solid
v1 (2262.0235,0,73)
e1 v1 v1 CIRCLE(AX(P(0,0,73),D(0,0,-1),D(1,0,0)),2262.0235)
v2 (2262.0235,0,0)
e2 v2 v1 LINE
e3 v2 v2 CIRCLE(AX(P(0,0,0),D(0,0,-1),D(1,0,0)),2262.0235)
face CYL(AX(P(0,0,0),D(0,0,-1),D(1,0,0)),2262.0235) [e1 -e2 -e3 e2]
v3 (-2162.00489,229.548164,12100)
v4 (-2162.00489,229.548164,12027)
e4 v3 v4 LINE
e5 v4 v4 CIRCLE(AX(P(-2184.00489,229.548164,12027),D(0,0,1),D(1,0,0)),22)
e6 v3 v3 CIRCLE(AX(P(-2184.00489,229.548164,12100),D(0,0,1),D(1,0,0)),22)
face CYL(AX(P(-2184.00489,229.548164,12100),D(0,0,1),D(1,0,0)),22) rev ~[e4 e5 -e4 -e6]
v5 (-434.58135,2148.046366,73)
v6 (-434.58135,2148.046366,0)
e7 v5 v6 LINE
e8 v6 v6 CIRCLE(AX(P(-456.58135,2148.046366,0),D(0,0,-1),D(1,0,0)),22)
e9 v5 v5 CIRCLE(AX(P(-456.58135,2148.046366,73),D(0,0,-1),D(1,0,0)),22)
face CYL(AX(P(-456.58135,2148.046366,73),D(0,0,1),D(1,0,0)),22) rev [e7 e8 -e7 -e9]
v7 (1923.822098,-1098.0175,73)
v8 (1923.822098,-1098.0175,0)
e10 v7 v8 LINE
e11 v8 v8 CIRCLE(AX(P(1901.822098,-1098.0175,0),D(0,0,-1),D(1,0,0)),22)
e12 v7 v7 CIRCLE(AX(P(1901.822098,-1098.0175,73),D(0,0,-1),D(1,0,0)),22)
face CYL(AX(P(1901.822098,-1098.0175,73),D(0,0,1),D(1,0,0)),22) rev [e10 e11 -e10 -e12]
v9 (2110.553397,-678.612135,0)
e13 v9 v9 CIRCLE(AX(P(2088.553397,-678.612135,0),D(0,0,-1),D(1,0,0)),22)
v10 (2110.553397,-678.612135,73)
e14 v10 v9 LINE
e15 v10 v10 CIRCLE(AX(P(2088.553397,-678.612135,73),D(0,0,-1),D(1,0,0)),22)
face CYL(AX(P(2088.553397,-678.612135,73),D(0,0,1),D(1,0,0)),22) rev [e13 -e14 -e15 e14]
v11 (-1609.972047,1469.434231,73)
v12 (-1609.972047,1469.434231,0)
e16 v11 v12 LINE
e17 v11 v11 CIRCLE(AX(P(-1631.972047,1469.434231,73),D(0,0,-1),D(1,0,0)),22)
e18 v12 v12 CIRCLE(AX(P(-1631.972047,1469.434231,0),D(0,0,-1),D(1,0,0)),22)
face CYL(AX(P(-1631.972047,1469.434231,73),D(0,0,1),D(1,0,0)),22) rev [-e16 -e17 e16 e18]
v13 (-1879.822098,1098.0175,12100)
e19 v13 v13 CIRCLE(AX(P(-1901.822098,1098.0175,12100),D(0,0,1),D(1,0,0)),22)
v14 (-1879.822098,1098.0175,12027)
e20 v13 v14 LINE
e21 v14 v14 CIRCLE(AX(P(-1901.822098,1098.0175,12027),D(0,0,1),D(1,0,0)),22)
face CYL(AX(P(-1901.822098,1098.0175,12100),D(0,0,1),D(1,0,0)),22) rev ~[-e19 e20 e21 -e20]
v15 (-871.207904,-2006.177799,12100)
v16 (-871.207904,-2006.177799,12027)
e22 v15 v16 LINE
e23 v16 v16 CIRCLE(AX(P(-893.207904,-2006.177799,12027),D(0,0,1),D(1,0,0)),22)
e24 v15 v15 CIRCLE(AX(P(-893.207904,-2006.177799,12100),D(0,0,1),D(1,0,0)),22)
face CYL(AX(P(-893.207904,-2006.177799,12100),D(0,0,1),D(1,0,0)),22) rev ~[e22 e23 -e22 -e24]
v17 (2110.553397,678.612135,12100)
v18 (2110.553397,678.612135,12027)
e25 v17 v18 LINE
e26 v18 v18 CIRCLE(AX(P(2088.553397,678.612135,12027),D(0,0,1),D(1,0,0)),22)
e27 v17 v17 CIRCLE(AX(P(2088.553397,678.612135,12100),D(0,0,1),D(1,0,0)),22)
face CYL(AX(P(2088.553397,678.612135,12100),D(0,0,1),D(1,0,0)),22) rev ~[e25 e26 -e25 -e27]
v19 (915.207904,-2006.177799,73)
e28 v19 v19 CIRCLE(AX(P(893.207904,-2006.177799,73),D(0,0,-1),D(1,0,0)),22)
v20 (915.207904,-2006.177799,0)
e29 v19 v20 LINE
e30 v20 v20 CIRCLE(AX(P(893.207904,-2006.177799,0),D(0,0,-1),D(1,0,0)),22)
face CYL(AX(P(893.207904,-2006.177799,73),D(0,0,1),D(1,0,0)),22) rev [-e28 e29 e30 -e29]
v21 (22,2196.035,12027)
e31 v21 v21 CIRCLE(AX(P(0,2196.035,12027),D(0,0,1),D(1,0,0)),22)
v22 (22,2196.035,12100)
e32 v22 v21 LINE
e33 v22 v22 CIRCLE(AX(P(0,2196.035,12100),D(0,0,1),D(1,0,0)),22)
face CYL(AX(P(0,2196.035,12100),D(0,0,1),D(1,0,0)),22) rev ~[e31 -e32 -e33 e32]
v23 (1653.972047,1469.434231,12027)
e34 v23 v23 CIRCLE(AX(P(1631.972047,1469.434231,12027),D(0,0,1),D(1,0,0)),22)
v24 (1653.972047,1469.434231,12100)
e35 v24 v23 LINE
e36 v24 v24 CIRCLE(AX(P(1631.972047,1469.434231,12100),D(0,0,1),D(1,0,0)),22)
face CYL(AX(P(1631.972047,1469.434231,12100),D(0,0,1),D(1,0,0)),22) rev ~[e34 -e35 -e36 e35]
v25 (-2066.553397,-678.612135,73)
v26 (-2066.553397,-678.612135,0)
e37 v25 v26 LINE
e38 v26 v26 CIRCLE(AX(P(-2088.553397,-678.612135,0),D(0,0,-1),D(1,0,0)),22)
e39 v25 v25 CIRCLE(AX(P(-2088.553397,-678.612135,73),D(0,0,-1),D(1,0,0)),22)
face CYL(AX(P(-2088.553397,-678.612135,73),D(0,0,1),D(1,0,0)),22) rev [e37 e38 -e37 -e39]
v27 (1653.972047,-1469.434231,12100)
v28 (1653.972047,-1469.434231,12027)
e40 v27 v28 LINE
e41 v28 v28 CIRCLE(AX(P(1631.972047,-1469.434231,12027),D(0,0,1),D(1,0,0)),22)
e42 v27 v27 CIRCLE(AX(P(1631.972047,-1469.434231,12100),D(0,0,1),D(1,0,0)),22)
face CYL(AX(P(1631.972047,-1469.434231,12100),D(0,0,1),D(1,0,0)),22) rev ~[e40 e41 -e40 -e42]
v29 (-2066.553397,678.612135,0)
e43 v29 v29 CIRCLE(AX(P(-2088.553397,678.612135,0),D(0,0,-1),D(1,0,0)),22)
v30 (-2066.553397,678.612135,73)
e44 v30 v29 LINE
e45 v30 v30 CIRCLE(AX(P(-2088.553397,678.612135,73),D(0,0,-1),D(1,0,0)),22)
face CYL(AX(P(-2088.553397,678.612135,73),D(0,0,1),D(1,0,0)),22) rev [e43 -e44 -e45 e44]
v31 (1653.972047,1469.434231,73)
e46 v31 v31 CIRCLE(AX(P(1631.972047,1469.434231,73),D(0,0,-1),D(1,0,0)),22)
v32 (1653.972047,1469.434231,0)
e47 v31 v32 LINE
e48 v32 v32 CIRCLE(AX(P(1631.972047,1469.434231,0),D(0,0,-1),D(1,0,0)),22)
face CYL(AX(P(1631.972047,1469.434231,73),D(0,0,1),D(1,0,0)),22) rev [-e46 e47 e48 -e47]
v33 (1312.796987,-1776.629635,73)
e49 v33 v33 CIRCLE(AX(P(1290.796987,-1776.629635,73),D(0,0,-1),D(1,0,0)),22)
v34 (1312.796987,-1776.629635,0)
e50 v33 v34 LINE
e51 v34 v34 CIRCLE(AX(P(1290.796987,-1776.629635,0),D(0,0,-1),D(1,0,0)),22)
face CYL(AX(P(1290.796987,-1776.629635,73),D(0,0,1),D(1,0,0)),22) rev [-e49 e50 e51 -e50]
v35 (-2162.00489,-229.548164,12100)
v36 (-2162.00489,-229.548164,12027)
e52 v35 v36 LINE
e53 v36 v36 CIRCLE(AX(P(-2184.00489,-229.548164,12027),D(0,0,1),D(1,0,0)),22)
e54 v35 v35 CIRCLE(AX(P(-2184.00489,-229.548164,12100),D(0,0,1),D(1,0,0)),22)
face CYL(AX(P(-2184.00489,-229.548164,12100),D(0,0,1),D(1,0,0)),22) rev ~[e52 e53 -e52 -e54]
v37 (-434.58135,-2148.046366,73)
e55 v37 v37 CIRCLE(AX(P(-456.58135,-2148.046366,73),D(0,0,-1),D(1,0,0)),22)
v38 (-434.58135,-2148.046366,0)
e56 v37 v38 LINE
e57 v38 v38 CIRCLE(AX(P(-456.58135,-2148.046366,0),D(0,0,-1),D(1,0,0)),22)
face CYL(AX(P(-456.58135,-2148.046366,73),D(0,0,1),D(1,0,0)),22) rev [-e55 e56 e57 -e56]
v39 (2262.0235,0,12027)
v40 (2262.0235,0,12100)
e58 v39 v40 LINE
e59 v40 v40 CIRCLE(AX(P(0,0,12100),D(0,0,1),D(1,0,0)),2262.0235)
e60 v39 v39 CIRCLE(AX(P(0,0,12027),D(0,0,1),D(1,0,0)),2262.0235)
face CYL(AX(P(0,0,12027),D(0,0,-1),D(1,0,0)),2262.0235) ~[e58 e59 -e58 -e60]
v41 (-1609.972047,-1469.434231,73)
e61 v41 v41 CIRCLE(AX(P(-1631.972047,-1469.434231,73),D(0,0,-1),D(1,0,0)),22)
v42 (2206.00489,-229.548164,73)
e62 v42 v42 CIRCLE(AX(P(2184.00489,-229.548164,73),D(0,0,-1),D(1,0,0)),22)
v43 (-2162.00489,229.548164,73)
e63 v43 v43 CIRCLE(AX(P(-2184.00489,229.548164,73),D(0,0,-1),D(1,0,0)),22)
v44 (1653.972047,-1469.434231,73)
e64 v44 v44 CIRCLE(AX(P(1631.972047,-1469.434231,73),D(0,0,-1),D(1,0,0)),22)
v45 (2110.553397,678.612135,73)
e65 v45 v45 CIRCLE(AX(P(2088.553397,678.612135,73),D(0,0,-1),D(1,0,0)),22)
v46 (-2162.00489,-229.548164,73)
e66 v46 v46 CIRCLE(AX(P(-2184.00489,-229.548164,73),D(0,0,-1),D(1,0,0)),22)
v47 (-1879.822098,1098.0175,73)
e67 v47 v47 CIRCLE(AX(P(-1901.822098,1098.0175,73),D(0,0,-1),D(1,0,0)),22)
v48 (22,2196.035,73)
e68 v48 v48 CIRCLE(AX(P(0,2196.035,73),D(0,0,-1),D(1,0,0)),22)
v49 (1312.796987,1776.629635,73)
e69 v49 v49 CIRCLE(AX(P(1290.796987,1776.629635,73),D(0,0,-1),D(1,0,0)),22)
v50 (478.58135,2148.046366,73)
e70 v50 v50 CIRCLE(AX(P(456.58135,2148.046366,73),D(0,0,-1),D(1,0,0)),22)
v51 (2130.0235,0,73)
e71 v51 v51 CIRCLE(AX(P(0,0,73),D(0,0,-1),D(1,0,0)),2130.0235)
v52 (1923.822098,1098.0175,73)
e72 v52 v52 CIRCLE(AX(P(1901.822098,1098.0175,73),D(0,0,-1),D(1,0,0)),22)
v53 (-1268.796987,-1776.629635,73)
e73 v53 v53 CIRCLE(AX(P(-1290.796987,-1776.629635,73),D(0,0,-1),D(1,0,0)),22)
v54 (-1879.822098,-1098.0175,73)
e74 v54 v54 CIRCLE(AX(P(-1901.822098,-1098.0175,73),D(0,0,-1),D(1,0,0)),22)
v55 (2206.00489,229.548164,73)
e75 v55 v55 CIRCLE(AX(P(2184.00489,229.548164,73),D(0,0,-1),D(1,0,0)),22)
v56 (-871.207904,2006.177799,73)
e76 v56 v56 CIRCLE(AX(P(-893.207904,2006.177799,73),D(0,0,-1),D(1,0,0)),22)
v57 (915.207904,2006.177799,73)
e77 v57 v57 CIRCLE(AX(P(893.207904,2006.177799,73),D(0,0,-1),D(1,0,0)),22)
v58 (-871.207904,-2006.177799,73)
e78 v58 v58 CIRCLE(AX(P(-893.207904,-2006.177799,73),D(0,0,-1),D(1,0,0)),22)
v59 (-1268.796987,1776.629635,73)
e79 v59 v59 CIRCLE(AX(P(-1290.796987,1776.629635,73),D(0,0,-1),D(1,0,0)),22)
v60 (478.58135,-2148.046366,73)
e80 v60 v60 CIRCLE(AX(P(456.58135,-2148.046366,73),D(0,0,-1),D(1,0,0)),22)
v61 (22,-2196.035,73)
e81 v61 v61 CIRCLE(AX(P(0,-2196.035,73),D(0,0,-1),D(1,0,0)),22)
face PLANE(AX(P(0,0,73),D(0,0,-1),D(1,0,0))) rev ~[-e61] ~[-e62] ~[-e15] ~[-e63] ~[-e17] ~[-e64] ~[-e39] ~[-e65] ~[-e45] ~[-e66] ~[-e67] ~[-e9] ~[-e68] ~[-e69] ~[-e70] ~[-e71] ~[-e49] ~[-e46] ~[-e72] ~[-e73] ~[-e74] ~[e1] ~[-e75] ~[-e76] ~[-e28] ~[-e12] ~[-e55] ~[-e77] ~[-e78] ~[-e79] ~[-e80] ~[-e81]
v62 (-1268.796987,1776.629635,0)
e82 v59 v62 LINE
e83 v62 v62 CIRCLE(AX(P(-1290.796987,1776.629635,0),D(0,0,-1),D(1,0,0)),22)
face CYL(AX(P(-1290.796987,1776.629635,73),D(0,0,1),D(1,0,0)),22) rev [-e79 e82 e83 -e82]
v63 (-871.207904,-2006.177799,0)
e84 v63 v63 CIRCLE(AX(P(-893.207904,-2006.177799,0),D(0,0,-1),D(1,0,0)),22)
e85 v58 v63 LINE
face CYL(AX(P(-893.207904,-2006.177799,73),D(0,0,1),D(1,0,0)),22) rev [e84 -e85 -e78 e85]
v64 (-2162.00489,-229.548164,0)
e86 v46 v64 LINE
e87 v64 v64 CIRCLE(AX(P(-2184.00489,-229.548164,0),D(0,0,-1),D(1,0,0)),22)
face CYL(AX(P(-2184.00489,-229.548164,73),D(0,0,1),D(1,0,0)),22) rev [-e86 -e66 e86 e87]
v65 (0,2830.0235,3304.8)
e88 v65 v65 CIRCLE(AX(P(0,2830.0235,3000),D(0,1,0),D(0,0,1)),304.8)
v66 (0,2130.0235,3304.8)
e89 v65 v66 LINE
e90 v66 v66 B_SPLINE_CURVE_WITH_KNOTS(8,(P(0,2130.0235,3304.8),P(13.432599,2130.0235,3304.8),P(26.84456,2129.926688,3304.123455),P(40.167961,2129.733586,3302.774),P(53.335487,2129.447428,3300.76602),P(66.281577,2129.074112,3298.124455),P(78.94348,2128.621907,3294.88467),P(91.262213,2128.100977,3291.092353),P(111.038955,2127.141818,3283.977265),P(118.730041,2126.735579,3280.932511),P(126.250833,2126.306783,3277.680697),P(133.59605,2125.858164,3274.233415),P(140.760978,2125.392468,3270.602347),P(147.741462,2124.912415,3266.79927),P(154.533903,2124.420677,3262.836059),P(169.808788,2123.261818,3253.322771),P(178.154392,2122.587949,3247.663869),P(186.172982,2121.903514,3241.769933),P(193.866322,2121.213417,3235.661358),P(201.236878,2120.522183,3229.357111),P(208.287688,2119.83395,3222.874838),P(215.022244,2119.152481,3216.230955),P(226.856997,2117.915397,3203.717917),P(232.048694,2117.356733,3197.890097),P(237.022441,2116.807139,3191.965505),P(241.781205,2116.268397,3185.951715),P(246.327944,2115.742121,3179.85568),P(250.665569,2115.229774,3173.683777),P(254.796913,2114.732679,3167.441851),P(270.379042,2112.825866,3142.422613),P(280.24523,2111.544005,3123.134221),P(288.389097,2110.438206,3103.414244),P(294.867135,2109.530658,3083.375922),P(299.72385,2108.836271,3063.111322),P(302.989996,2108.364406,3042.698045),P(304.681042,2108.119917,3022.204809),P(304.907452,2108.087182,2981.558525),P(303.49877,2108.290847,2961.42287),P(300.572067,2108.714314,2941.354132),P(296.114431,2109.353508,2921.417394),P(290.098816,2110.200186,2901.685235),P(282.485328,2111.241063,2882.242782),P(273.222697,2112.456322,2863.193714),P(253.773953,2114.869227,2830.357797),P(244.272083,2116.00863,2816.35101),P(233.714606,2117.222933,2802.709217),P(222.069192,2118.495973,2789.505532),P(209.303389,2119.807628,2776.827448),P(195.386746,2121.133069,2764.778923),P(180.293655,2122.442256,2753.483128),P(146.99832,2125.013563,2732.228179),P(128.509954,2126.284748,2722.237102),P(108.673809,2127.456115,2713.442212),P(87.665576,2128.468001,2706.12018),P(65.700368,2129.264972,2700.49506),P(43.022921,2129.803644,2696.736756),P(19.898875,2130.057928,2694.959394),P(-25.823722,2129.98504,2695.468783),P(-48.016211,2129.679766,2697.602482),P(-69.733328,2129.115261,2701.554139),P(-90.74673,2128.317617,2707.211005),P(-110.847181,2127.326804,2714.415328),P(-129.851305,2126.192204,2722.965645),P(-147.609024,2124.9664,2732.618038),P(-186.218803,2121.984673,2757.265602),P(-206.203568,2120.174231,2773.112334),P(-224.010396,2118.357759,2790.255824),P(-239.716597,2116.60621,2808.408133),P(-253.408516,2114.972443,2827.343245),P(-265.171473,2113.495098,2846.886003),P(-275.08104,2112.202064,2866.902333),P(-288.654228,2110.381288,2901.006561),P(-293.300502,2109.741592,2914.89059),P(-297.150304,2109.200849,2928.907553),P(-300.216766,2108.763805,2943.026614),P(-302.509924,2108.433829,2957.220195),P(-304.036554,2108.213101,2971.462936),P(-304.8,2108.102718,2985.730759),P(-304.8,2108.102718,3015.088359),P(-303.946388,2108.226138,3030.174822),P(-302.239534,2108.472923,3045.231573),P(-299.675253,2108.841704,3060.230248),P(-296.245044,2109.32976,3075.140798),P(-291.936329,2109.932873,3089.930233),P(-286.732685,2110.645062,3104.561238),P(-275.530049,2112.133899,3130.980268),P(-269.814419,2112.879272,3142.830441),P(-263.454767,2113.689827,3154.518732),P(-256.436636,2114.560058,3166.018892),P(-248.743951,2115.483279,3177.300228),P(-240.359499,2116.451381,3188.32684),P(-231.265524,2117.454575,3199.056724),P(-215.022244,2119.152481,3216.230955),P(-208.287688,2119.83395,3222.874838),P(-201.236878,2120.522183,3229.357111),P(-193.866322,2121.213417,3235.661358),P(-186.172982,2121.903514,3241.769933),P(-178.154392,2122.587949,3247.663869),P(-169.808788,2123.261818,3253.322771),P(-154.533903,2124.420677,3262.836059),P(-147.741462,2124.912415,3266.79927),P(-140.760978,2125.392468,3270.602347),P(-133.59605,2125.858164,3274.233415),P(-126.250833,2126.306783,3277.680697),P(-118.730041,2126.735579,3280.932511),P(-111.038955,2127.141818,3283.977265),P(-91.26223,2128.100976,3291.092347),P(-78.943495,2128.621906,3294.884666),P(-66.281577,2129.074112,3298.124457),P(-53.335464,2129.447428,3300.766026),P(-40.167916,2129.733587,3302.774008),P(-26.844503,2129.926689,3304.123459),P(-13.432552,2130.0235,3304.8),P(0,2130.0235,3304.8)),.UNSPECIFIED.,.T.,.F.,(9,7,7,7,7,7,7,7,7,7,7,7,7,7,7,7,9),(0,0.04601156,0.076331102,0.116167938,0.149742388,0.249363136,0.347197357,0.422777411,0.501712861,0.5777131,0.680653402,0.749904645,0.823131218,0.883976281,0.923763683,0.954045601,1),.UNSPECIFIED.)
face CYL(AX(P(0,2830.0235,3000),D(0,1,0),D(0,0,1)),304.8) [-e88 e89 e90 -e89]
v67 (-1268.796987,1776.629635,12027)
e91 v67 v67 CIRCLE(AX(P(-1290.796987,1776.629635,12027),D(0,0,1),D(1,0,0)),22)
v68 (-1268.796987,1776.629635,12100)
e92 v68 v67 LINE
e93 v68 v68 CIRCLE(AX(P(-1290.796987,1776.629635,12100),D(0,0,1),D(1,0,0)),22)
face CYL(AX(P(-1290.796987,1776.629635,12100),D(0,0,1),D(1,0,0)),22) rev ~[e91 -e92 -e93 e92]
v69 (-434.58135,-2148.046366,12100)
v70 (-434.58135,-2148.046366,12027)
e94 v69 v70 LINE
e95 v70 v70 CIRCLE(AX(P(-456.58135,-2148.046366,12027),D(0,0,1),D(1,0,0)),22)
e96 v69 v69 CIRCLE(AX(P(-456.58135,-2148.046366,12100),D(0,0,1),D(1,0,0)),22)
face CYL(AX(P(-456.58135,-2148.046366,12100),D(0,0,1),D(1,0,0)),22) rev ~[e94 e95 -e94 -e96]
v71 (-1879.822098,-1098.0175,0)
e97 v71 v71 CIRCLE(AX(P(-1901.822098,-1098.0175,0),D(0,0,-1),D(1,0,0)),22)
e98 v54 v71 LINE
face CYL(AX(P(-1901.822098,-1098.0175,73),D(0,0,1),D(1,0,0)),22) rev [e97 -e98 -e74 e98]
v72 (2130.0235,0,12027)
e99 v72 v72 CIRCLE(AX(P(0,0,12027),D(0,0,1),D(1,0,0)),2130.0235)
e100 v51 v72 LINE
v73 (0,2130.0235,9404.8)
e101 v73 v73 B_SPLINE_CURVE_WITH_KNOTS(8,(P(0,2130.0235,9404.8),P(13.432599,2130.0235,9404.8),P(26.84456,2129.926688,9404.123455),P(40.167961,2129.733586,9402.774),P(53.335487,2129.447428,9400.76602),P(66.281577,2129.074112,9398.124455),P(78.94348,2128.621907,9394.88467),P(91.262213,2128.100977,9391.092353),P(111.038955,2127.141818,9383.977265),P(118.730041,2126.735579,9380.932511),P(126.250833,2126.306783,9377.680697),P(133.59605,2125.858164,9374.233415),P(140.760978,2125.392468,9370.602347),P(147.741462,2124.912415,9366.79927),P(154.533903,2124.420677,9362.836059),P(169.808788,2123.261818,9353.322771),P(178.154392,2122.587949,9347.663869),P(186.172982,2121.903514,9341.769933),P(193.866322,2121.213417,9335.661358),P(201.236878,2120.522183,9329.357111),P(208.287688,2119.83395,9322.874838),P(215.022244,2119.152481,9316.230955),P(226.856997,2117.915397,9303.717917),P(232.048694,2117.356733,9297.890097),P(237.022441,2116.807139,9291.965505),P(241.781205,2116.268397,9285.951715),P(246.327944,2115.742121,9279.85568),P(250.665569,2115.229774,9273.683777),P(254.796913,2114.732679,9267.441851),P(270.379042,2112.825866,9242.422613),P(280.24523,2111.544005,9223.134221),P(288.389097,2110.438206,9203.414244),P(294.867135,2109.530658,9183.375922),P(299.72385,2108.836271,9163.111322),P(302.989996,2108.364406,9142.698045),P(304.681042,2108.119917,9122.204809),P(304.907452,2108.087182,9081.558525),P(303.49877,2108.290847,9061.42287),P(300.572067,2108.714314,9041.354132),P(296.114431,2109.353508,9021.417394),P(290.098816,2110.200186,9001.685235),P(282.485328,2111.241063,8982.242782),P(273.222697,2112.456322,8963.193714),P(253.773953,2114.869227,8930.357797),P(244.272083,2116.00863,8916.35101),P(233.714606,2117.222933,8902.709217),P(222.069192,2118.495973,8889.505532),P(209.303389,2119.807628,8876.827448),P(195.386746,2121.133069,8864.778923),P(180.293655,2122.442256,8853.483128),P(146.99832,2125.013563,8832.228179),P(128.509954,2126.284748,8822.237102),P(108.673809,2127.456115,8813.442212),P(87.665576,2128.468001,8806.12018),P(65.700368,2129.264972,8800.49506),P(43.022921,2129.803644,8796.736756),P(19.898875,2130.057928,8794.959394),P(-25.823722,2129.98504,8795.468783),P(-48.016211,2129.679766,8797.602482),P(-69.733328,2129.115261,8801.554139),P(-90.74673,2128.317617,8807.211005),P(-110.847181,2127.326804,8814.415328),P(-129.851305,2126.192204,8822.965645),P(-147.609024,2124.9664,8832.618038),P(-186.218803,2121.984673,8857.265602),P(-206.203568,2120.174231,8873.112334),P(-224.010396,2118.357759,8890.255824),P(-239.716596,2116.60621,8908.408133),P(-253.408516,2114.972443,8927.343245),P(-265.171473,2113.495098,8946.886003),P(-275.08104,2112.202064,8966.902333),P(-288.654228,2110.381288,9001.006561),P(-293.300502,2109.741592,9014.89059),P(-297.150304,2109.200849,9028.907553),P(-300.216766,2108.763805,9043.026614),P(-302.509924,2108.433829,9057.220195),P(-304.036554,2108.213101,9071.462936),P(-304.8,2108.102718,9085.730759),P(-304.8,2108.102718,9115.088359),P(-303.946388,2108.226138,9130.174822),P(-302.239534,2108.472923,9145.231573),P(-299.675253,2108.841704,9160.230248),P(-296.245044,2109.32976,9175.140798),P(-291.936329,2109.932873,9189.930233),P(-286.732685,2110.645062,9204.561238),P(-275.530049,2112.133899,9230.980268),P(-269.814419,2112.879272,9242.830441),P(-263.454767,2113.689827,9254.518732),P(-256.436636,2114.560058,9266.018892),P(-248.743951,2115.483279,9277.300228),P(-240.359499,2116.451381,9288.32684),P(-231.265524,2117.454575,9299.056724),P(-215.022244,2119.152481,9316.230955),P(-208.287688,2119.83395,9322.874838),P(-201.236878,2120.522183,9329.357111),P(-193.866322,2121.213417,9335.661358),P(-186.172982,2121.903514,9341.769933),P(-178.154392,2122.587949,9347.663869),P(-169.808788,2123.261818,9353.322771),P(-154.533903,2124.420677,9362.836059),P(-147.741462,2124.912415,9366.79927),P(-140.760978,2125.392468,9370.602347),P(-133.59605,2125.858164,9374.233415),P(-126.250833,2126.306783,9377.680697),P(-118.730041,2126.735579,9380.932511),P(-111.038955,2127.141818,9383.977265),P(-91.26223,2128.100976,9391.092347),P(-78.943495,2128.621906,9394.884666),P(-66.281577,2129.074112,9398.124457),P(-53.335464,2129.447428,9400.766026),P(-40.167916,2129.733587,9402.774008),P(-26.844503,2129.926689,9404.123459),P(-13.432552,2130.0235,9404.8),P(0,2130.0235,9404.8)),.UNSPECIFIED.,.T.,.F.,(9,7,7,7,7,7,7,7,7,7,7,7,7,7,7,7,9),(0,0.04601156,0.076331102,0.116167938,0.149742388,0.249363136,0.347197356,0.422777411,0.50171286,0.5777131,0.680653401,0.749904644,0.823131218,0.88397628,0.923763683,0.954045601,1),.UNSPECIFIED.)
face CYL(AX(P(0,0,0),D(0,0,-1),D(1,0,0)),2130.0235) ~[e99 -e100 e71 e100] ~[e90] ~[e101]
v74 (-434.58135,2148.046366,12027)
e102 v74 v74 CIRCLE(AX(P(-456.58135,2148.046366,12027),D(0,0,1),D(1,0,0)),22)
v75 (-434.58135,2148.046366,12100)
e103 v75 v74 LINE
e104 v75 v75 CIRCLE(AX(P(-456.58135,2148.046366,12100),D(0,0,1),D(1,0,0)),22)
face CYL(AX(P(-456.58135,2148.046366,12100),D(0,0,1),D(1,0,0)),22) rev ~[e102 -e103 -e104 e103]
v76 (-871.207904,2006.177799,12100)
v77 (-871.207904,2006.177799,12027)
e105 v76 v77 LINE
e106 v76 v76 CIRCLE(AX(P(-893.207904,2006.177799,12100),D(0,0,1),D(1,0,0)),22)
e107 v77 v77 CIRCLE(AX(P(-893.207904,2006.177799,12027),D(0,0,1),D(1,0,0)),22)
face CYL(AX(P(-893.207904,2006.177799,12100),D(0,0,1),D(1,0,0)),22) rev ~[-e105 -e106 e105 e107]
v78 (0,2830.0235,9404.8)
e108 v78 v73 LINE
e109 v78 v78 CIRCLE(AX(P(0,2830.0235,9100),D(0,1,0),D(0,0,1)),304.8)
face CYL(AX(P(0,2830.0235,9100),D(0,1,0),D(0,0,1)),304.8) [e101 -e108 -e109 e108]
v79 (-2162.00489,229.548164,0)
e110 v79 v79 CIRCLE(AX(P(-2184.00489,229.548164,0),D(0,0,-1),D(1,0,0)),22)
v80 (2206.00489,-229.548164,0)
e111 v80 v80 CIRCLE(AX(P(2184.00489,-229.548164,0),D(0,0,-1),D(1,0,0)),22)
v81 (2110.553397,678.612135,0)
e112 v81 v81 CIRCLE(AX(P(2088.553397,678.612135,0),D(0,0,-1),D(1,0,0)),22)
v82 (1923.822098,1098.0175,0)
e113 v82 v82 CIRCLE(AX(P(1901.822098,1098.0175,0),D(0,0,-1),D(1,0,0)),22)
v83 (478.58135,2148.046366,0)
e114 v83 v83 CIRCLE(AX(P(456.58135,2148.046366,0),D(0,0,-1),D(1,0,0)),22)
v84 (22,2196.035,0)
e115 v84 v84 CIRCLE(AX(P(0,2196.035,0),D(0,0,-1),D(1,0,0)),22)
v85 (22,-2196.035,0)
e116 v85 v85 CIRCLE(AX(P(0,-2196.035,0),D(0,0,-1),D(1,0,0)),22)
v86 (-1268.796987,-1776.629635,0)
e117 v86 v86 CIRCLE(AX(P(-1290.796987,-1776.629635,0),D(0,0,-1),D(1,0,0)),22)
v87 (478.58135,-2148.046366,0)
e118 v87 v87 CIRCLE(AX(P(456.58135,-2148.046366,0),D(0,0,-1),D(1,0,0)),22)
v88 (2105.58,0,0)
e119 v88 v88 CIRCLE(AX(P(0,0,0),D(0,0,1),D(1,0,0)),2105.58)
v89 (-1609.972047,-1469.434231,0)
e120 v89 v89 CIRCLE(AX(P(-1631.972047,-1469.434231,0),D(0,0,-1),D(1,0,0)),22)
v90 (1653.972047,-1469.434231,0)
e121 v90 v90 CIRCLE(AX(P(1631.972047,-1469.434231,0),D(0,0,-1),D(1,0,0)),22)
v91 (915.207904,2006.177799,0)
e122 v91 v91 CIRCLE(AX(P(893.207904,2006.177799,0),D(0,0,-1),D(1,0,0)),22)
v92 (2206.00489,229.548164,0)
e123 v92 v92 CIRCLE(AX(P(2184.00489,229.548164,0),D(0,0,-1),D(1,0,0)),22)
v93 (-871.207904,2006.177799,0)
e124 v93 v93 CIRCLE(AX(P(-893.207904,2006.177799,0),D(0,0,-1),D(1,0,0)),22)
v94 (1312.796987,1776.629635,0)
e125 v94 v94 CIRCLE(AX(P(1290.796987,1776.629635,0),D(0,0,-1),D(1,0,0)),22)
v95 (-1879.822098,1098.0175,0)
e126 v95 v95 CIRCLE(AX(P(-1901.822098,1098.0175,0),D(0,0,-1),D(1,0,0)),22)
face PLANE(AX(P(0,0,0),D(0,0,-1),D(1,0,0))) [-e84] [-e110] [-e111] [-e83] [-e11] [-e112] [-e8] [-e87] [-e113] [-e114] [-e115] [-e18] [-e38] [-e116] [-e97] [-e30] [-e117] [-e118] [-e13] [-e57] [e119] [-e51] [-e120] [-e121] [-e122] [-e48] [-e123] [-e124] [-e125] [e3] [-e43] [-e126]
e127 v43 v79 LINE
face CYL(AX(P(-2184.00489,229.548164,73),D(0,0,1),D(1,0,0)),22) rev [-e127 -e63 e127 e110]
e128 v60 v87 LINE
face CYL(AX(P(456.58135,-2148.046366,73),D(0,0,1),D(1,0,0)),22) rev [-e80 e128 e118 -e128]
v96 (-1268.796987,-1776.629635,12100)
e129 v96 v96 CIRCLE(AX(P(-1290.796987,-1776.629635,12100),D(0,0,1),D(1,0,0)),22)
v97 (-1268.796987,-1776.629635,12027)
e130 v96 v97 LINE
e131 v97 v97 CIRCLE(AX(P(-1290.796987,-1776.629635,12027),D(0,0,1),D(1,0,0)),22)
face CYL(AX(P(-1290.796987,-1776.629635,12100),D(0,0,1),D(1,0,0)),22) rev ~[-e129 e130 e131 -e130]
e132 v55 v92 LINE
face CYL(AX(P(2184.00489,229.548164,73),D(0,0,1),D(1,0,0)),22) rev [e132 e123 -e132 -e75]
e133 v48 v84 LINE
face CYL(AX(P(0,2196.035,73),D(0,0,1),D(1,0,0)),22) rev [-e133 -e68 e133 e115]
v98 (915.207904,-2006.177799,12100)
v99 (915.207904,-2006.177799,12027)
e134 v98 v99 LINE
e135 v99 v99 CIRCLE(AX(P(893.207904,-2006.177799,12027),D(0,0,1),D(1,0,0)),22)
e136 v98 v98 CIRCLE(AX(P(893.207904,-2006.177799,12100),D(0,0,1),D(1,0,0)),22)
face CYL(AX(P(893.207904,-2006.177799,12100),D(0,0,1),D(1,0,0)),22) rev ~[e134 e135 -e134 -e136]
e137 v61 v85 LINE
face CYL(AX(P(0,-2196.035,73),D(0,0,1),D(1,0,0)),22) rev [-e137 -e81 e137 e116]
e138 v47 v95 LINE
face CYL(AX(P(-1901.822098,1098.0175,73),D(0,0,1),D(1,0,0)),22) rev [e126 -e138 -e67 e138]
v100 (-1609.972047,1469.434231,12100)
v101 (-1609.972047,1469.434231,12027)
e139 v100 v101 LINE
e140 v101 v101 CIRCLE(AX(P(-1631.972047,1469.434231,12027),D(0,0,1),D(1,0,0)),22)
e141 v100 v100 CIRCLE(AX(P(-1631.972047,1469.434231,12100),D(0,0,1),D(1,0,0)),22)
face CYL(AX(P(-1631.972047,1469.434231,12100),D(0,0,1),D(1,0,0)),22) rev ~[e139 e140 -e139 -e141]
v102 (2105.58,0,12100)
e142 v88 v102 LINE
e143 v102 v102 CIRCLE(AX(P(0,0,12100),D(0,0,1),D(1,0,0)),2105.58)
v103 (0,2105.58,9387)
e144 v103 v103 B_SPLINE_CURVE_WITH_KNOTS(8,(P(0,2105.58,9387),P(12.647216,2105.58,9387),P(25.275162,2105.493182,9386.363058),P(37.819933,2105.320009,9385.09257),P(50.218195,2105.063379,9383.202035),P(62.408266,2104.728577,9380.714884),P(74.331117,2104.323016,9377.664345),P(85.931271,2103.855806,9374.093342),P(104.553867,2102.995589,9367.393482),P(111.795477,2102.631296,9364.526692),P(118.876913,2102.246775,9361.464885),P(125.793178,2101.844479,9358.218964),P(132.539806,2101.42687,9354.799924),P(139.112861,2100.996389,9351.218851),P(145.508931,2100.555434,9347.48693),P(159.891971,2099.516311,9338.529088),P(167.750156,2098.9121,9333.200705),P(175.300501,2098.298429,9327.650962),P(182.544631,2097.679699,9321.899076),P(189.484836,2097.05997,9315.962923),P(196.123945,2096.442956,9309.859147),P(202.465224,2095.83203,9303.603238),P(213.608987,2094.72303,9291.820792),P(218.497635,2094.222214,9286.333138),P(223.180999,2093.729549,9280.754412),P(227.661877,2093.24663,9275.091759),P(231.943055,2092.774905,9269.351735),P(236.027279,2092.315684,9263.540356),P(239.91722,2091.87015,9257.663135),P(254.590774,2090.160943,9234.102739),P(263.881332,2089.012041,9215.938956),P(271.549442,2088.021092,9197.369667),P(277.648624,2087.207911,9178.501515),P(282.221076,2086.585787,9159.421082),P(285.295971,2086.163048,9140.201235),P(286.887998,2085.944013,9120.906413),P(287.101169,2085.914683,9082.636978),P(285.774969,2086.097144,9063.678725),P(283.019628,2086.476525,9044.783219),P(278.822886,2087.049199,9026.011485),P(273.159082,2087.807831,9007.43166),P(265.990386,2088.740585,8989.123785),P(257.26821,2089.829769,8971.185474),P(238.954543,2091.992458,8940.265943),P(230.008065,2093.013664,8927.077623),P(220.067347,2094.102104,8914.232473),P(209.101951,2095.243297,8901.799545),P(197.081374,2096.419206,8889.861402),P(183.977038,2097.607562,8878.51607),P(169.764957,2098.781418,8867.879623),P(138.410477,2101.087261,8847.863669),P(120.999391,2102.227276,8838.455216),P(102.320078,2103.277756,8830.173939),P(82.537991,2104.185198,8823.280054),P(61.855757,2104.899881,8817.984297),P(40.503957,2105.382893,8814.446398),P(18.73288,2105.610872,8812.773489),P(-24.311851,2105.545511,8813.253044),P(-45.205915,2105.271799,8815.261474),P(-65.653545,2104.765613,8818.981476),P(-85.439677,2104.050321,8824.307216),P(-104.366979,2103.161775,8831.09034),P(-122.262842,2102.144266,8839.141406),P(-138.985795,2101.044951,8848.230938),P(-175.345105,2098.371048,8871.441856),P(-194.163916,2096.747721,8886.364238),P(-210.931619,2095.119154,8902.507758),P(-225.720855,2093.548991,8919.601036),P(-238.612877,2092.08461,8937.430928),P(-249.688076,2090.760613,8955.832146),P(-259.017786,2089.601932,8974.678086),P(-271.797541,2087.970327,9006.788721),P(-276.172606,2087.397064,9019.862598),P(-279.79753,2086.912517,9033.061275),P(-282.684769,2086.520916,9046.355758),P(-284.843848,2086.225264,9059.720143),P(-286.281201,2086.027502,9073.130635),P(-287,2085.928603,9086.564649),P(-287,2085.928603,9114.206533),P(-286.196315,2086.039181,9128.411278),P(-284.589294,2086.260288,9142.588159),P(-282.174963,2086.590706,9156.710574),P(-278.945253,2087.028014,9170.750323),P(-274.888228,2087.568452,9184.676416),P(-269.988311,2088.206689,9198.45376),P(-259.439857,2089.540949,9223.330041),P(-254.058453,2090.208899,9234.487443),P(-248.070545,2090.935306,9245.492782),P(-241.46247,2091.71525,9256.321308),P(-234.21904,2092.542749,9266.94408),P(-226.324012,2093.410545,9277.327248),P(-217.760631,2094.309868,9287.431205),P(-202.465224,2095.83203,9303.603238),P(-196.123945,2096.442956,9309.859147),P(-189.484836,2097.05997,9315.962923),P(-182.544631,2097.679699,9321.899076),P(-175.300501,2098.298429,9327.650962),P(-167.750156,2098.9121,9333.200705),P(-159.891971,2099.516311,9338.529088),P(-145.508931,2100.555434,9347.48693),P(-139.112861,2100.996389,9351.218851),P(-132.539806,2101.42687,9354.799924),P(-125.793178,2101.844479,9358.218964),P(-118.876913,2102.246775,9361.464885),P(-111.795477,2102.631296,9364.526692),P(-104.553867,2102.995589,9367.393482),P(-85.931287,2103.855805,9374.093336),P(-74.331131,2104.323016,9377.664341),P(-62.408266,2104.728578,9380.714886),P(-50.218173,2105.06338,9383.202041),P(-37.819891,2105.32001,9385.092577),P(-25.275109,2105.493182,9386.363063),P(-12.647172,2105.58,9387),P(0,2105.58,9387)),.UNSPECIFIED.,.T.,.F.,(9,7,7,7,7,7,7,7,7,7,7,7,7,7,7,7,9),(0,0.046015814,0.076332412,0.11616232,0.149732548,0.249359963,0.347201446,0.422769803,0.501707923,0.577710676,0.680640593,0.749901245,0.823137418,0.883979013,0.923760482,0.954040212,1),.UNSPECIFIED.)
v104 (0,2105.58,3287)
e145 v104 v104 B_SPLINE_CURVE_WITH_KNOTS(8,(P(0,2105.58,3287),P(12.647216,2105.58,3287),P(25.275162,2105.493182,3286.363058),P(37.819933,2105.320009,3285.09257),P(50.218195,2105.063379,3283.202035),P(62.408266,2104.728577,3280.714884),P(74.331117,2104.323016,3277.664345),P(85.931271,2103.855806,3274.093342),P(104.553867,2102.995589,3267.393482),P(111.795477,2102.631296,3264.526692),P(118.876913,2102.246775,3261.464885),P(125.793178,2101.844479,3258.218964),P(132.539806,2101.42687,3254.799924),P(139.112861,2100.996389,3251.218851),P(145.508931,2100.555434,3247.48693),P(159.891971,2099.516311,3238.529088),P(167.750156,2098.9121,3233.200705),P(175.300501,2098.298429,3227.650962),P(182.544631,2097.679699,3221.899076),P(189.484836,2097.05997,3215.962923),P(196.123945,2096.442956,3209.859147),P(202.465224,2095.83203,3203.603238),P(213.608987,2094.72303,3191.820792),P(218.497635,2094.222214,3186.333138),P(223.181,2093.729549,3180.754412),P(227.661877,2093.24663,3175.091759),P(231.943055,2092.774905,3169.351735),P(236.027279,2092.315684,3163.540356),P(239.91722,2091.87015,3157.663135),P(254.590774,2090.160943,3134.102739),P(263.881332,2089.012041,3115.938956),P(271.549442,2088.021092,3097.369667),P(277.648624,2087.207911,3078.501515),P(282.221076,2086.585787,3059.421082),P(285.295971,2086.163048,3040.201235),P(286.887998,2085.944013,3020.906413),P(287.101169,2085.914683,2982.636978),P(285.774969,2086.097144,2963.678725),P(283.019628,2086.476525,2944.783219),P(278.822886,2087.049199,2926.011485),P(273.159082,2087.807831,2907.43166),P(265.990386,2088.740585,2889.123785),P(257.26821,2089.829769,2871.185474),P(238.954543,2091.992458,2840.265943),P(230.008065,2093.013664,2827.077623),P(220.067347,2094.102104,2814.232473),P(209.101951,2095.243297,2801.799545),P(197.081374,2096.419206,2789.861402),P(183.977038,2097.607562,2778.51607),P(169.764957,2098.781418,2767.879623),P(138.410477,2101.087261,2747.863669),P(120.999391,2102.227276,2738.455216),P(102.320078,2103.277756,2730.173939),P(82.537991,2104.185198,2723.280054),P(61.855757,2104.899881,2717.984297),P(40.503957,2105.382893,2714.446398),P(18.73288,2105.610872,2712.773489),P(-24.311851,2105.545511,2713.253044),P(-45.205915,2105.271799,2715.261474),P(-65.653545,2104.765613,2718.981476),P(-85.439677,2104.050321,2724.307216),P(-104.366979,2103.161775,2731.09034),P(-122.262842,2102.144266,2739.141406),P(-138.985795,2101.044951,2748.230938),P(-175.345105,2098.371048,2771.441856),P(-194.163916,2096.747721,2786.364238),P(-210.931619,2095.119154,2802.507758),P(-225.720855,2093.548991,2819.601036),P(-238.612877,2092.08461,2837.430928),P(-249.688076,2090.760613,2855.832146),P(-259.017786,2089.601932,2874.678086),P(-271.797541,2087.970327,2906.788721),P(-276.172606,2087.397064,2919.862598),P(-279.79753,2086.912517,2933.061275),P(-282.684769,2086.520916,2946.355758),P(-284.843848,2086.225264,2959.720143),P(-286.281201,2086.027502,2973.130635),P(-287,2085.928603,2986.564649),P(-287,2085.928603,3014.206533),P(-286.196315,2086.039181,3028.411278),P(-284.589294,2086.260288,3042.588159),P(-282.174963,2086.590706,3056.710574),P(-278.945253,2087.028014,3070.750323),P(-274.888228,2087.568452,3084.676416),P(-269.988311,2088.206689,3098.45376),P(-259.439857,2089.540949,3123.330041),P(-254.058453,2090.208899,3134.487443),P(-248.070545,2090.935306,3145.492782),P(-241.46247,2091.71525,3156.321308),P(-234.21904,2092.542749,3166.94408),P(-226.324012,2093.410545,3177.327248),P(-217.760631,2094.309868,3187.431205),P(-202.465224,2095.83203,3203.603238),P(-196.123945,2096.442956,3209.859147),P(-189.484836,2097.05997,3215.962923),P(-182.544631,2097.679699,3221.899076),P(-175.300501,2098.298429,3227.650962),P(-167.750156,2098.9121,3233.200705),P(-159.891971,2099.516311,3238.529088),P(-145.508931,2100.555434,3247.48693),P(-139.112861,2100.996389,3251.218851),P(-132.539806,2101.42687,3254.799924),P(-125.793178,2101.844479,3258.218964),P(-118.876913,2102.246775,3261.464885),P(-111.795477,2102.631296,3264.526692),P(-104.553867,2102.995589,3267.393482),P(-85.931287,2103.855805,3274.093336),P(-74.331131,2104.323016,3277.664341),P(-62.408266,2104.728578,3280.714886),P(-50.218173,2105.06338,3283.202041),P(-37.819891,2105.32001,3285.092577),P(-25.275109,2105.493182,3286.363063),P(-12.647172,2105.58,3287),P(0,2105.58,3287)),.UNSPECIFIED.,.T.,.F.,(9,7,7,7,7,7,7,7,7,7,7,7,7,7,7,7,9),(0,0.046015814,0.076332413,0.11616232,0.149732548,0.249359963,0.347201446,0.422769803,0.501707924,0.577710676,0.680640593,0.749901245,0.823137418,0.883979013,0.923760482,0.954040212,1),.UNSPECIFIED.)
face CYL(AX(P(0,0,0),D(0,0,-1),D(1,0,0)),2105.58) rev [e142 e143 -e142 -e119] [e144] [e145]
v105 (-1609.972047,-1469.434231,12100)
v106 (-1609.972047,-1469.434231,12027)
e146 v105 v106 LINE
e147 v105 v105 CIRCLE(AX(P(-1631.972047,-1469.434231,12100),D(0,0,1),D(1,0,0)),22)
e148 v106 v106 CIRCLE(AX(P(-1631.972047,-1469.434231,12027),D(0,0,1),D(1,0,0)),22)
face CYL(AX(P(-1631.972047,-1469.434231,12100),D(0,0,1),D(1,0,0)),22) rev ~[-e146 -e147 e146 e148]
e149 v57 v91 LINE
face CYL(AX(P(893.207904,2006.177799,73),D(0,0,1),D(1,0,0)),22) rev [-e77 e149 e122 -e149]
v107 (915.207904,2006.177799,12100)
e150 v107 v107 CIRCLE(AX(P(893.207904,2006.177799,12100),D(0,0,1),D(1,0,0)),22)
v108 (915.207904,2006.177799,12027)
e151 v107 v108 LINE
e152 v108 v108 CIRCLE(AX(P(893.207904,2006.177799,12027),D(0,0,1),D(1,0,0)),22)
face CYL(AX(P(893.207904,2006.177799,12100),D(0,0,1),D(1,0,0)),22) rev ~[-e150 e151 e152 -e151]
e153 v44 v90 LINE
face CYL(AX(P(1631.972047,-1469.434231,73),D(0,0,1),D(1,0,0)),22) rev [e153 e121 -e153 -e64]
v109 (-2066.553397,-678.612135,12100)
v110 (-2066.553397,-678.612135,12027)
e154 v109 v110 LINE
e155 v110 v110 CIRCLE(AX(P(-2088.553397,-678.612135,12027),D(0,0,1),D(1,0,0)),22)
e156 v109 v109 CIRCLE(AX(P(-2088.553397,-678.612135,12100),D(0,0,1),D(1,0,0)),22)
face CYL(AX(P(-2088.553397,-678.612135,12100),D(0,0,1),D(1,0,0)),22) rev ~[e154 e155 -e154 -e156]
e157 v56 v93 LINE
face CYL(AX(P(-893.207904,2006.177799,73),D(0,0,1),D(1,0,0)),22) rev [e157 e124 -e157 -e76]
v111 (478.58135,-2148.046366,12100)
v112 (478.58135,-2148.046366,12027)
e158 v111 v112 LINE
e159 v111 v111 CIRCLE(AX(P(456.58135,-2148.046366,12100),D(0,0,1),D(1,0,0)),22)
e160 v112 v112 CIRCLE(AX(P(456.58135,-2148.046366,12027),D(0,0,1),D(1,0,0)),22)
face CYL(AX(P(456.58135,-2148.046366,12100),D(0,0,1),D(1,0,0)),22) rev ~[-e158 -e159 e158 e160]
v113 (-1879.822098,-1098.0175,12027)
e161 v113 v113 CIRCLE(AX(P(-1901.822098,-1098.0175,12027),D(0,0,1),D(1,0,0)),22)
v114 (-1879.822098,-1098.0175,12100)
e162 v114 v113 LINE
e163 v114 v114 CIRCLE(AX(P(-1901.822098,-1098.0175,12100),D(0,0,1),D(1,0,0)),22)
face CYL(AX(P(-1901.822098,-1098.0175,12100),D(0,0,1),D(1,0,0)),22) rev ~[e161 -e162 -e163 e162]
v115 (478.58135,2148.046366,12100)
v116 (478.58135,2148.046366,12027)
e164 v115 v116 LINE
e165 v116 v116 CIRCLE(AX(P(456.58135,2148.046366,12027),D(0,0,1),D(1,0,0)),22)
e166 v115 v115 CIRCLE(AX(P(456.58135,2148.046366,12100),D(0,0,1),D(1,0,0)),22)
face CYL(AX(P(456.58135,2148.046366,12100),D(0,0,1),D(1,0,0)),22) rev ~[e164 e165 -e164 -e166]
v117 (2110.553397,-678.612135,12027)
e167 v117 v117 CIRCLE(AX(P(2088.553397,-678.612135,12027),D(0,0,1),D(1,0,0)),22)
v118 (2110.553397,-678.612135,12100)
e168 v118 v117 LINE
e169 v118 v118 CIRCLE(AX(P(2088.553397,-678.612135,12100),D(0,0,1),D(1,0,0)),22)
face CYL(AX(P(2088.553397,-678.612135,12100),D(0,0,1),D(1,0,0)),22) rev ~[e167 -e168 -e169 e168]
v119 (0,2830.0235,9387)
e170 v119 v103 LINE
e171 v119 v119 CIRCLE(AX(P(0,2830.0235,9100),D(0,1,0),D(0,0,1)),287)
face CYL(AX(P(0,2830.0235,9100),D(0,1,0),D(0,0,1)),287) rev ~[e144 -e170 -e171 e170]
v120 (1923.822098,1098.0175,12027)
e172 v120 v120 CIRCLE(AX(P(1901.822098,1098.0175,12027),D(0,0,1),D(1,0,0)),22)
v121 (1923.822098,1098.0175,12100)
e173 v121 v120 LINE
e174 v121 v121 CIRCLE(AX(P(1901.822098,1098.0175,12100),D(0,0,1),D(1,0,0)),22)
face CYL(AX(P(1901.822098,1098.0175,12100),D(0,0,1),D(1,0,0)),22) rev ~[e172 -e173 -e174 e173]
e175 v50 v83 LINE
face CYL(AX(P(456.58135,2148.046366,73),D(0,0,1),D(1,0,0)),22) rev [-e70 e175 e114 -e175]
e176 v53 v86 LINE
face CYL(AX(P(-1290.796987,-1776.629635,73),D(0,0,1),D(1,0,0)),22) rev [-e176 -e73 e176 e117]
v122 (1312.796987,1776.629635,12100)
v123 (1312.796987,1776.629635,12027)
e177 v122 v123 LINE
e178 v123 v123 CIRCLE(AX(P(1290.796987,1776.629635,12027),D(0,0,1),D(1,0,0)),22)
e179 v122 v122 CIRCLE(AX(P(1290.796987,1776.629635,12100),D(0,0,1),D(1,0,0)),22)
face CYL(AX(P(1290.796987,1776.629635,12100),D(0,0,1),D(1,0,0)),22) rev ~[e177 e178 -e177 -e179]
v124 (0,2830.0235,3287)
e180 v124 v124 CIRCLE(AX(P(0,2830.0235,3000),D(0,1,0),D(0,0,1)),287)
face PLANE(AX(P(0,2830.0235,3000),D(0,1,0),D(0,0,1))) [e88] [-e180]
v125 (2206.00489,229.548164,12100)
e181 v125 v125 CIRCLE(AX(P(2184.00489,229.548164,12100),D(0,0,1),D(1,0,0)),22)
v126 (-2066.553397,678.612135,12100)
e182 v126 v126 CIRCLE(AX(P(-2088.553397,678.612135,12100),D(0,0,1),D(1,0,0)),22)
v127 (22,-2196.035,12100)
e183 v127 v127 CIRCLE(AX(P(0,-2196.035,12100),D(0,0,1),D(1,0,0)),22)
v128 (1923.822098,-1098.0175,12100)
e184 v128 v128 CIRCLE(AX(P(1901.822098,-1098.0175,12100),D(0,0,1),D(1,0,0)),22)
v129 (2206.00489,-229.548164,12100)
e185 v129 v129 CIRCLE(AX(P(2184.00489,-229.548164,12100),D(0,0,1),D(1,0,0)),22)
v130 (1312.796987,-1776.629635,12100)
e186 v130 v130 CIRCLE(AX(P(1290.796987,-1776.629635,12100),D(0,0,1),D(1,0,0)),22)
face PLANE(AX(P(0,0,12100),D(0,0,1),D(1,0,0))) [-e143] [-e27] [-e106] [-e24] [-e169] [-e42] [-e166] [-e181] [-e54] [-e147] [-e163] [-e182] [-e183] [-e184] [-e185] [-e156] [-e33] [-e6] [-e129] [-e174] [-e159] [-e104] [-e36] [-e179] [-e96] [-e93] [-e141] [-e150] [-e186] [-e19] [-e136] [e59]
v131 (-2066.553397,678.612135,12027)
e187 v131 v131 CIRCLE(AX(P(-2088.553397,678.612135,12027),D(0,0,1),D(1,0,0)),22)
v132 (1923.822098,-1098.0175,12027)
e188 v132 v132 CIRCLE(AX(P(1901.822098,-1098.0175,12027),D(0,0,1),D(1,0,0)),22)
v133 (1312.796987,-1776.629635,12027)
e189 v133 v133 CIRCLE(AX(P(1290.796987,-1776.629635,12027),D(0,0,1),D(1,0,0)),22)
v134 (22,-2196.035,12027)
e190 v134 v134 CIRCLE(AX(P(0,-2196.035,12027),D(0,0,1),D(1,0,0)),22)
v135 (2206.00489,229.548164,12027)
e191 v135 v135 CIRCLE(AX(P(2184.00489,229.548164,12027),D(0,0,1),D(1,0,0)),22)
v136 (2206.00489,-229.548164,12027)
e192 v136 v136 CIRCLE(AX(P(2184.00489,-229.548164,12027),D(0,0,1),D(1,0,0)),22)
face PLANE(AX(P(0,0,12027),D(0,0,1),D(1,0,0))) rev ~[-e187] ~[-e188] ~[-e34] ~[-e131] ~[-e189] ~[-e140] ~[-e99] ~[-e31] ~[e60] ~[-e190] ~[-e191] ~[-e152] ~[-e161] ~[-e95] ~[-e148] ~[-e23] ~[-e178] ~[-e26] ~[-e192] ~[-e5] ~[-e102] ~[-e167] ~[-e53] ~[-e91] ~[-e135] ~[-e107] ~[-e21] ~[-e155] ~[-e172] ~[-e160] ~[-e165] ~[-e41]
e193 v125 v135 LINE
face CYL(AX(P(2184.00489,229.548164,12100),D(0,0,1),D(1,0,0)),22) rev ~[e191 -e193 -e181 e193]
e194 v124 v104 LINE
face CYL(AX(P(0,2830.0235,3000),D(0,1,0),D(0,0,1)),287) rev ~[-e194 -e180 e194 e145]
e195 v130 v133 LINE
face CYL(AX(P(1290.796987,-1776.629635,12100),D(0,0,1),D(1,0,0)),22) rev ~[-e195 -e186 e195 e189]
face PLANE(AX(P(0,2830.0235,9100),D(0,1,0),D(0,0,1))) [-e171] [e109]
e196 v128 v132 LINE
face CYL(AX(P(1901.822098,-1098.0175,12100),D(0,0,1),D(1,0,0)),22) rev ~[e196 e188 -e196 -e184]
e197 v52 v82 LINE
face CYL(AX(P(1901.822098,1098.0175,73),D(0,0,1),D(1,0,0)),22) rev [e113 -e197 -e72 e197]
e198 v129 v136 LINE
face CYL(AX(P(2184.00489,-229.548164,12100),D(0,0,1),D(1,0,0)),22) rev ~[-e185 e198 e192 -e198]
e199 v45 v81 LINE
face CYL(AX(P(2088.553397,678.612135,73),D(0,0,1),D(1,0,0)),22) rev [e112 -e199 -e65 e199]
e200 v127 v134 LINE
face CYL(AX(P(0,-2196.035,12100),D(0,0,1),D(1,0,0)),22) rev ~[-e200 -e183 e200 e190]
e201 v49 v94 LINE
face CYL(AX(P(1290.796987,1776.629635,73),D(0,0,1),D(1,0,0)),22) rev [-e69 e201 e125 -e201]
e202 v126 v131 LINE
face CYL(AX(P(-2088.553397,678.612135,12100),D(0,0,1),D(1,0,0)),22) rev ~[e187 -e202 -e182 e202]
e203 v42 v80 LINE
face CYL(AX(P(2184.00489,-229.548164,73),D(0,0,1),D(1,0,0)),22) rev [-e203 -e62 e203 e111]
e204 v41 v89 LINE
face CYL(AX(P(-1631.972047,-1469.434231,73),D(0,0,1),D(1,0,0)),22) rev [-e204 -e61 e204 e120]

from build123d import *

# Parameters (mm, degrees)
SKETCH1_R                = 2130.0235
SKETCH1_R_2              = 2105.58
BOSS_EXTRUDE1_DEPTH      = 12100
BOSS_EXTRUDE2_REACH      = 13251.493
BOSS_EXTRUDE2_END_RADIUS = 2130.0235
SKETCH2_R                = 304.8
SKETCH3_R                = 287
CUT_EXTRUDE1_DEPTH       = 1000
BOSS_EXTRUDE3_START      = -73
SKETCH4_R                = 2262.0235
SKETCH4_R_2              = 2130.0235
BOSS_EXTRUDE3_DEPTH      = 73
SKETCH5_R                = 22
CUT_EXTRUDE3_DEPTH       = 73
SKETCH7_R                = 2262.0235
SKETCH7_R_2              = 2130.0235
BOSS_EXTRUDE4_DEPTH      = 73
CUT_EXTRUDE4_START       = -73
SKETCH8_R                = 22
CUT_EXTRUDE4_DEPTH       = 73


with BuildPart() as part:
    # Sketch1 → Boss-Extrude1 (new body)
    with BuildSketch(Plane.XY):
        Circle(SKETCH1_R)
        Circle(SKETCH1_R_2, mode=Mode.SUBTRACT)
    extrude(amount=BOSS_EXTRUDE1_DEPTH)

    # Boss-Extrude2: up to this cylinder (the profile starts outside it)
    boss_extrude2_end = Plane(origin=(0, 0, 6050), z_dir=(0, 0, -1)) * Cylinder(BOSS_EXTRUDE2_END_RADIUS, 36864.033, mode=Mode.PRIVATE)
    # Sketch2 → Boss-Extrude2 (add, up to the surface)
    with BuildSketch(Plane(origin=(0, 2830.0235, 0), x_dir=(1, 0, 0), z_dir=(0, 1, 0)), mode=Mode.PRIVATE) as boss_extrude2_sk1:
        with Locations(Location((0, -3000, 0), (0, 0, 270))):
            Circle(SKETCH2_R)
    boss_extrude2_tool1 = extrude(boss_extrude2_sk1.sketch, amount=-BOSS_EXTRUDE2_REACH, mode=Mode.PRIVATE) - boss_extrude2_end
    add(boss_extrude2_tool1.solids().sort_by_distance((0, 2830.0235, 3000))[0])
    # Sketch2 → Boss-Extrude2 (add, up to the surface)
    with BuildSketch(Plane(origin=(0, 2830.0235, 0), x_dir=(1, 0, 0), z_dir=(0, 1, 0)), mode=Mode.PRIVATE) as boss_extrude2_sk2:
        with Locations(Location((0, -9100, 0), (0, 0, 270))):
            Circle(SKETCH2_R)
    boss_extrude2_tool2 = extrude(boss_extrude2_sk2.sketch, amount=-BOSS_EXTRUDE2_REACH, mode=Mode.PRIVATE) - boss_extrude2_end
    add(boss_extrude2_tool2.solids().sort_by_distance((0, 2830.0235, 9100))[0])

    # Sketch3 → Cut-Extrude1 (cut)
    with BuildSketch(Plane(origin=(0, 2830.0235, 0), x_dir=(1, 0, 0), z_dir=(0, 1, 0))):
        with Locations(Location((0, -9100, 0), (0, 0, 270))):
            Circle(SKETCH3_R)
        with Locations(Location((0, -3000, 0), (0, 0, 270))):
            Circle(SKETCH3_R)
    extrude(amount=-CUT_EXTRUDE1_DEPTH, mode=Mode.SUBTRACT)

    # Sketch4 → Boss-Extrude3 (add)
    with BuildSketch(Plane.XY.offset(12100).offset(BOSS_EXTRUDE3_START)):
        Circle(SKETCH4_R)
        Circle(SKETCH4_R_2, mode=Mode.SUBTRACT)
    extrude(amount=BOSS_EXTRUDE3_DEPTH)

    # Sketch5 → Cut-Extrude3 (cut)
    with BuildSketch(Plane.XY.offset(12100)):
        with Locations((0, 2196.035)):
            Circle(SKETCH5_R)
        with Locations((456.581349945, 2148.046366377)):
            Circle(SKETCH5_R)
        with Locations((893.207903977, 2006.177799074)):
            Circle(SKETCH5_R)
        with Locations((1290.796986518, 1776.629635242)):
            Circle(SKETCH5_R)
        with Locations((1631.972046817, 1469.434231135)):
            Circle(SKETCH5_R)
        with Locations((1901.8220976, 1098.0175)):
            Circle(SKETCH5_R)
        with Locations((2088.553396762, 678.612135242)):
            Circle(SKETCH5_R)
        with Locations((2184.004890495, 229.548163832)):
            Circle(SKETCH5_R)
        with Locations((2184.004890495, -229.548163832)):
            Circle(SKETCH5_R)
        with Locations((2088.553396762, -678.612135242)):
            Circle(SKETCH5_R)
        with Locations((1901.8220976, -1098.0175)):
            Circle(SKETCH5_R)
        with Locations((1631.972046817, -1469.434231135)):
            Circle(SKETCH5_R)
        with Locations((1290.796986518, -1776.629635242)):
            Circle(SKETCH5_R)
        with Locations((893.207903977, -2006.177799074)):
            Circle(SKETCH5_R)
        with Locations((456.581349945, -2148.046366377)):
            Circle(SKETCH5_R)
        with Locations((0, -2196.035)):
            Circle(SKETCH5_R)
        with Locations((-456.581349945, -2148.046366377)):
            Circle(SKETCH5_R)
        with Locations((-893.207903977, -2006.177799074)):
            Circle(SKETCH5_R)
        with Locations((-1290.796986518, -1776.629635242)):
            Circle(SKETCH5_R)
        with Locations((-1631.972046817, -1469.434231135)):
            Circle(SKETCH5_R)
        with Locations((-1901.8220976, -1098.0175)):
            Circle(SKETCH5_R)
        with Locations((-2088.553396762, -678.612135242)):
            Circle(SKETCH5_R)
        with Locations((-2184.004890495, -229.548163832)):
            Circle(SKETCH5_R)
        with Locations((-2184.004890495, 229.548163832)):
            Circle(SKETCH5_R)
        with Locations((-2088.553396762, 678.612135242)):
            Circle(SKETCH5_R)
        with Locations((-1901.8220976, 1098.0175)):
            Circle(SKETCH5_R)
        with Locations((-1631.972046817, 1469.434231135)):
            Circle(SKETCH5_R)
        with Locations((-1290.796986518, 1776.629635242)):
            Circle(SKETCH5_R)
        with Locations((-893.207903977, 2006.177799074)):
            Circle(SKETCH5_R)
        with Locations((-456.581349945, 2148.046366377)):
            Circle(SKETCH5_R)
    extrude(amount=-CUT_EXTRUDE3_DEPTH, mode=Mode.SUBTRACT)

    # Sketch7 → Boss-Extrude4 (add)
    with BuildSketch(Plane(origin=(0, 0, 0), x_dir=(-1, 0, 0), z_dir=(0, 0, -1))):
        with Locations(Location((0, 0, 0), (0, 0, 180))):
            Circle(SKETCH7_R)
        Circle(SKETCH7_R_2, mode=Mode.SUBTRACT)
    extrude(amount=-BOSS_EXTRUDE4_DEPTH)

    # Sketch8 → Cut-Extrude4 (cut)
    with BuildSketch(Plane(origin=(0, 0, 0), x_dir=(-1, 0, 0), z_dir=(0, 0, -1)).offset(CUT_EXTRUDE4_START)):
        with Locations(Location((-1631.972046817, 1469.434231135, 0), (0, 0, 180))):
            Circle(SKETCH8_R)
        with Locations(Location((-1290.796986518, 1776.629635242, 0), (0, 0, 180))):
            Circle(SKETCH8_R)
        with Locations(Location((-893.207903977, 2006.177799074, 0), (0, 0, 180))):
            Circle(SKETCH8_R)
        with Locations(Location((-456.581349945, 2148.046366377, 0), (0, 0, 180))):
            Circle(SKETCH8_R)
        with Locations(Location((0, 2196.035, 0), (0, 0, 180))):
            Circle(SKETCH8_R)
        with Locations(Location((-1290.796986518, -1776.629635242, 0), (0, 0, 180))):
            Circle(SKETCH8_R)
        with Locations(Location((-1631.972046817, -1469.434231135, 0), (0, 0, 180))):
            Circle(SKETCH8_R)
        with Locations(Location((-1901.8220976, -1098.0175, 0), (0, 0, 180))):
            Circle(SKETCH8_R)
        with Locations(Location((-2088.553396762, -678.612135242, 0), (0, 0, 180))):
            Circle(SKETCH8_R)
        with Locations(Location((-2184.004890495, -229.548163832, 0), (0, 0, 180))):
            Circle(SKETCH8_R)
        with Locations(Location((-2184.004890495, 229.548163832, 0), (0, 0, 180))):
            Circle(SKETCH8_R)
        with Locations(Location((-2088.553396762, 678.612135242, 0), (0, 0, 180))):
            Circle(SKETCH8_R)
        with Locations(Location((-1901.8220976, 1098.0175, 0), (0, 0, 180))):
            Circle(SKETCH8_R)
        with Locations(Location((1901.8220976, -1098.0175, 0), (0, 0, 180))):
            Circle(SKETCH8_R)
        with Locations(Location((1631.972046817, -1469.434231135, 0), (0, 0, 180))):
            Circle(SKETCH8_R)
        with Locations(Location((1290.796986518, -1776.629635242, 0), (0, 0, 180))):
            Circle(SKETCH8_R)
        with Locations(Location((893.207903977, -2006.177799074, 0), (0, 0, 180))):
            Circle(SKETCH8_R)
        with Locations(Location((456.581349945, -2148.046366377, 0), (0, 0, 180))):
            Circle(SKETCH8_R)
        with Locations(Location((0, -2196.035, 0), (0, 0, 180))):
            Circle(SKETCH8_R)
        with Locations(Location((-456.581349945, -2148.046366377, 0), (0, 0, 180))):
            Circle(SKETCH8_R)
        with Locations(Location((-893.207903977, -2006.177799074, 0), (0, 0, 180))):
            Circle(SKETCH8_R)
        with Locations(Location((893.207903977, 2006.177799074, 0), (0, 0, 180))):
            Circle(SKETCH8_R)
        with Locations(Location((1290.796986518, 1776.629635242, 0), (0, 0, 180))):
            Circle(SKETCH8_R)
        with Locations(Location((1631.972046817, 1469.434231135, 0), (0, 0, 180))):
            Circle(SKETCH8_R)
        with Locations(Location((1901.8220976, 1098.0175, 0), (0, 0, 180))):
            Circle(SKETCH8_R)
        with Locations(Location((2088.553396762, 678.612135242, 0), (0, 0, 180))):
            Circle(SKETCH8_R)
        with Locations(Location((2184.004890495, 229.548163832, 0), (0, 0, 180))):
            Circle(SKETCH8_R)
        with Locations(Location((2184.004890495, -229.548163832, 0), (0, 0, 180))):
            Circle(SKETCH8_R)
        with Locations(Location((2088.553396762, -678.612135242, 0), (0, 0, 180))):
            Circle(SKETCH8_R)
        with Locations(Location((456.581349945, 2148.046366377, 0), (0, 0, 180))):
            Circle(SKETCH8_R)
    extrude(amount=CUT_EXTRUDE4_DEPTH, mode=Mode.SUBTRACT)


solid = part.part
